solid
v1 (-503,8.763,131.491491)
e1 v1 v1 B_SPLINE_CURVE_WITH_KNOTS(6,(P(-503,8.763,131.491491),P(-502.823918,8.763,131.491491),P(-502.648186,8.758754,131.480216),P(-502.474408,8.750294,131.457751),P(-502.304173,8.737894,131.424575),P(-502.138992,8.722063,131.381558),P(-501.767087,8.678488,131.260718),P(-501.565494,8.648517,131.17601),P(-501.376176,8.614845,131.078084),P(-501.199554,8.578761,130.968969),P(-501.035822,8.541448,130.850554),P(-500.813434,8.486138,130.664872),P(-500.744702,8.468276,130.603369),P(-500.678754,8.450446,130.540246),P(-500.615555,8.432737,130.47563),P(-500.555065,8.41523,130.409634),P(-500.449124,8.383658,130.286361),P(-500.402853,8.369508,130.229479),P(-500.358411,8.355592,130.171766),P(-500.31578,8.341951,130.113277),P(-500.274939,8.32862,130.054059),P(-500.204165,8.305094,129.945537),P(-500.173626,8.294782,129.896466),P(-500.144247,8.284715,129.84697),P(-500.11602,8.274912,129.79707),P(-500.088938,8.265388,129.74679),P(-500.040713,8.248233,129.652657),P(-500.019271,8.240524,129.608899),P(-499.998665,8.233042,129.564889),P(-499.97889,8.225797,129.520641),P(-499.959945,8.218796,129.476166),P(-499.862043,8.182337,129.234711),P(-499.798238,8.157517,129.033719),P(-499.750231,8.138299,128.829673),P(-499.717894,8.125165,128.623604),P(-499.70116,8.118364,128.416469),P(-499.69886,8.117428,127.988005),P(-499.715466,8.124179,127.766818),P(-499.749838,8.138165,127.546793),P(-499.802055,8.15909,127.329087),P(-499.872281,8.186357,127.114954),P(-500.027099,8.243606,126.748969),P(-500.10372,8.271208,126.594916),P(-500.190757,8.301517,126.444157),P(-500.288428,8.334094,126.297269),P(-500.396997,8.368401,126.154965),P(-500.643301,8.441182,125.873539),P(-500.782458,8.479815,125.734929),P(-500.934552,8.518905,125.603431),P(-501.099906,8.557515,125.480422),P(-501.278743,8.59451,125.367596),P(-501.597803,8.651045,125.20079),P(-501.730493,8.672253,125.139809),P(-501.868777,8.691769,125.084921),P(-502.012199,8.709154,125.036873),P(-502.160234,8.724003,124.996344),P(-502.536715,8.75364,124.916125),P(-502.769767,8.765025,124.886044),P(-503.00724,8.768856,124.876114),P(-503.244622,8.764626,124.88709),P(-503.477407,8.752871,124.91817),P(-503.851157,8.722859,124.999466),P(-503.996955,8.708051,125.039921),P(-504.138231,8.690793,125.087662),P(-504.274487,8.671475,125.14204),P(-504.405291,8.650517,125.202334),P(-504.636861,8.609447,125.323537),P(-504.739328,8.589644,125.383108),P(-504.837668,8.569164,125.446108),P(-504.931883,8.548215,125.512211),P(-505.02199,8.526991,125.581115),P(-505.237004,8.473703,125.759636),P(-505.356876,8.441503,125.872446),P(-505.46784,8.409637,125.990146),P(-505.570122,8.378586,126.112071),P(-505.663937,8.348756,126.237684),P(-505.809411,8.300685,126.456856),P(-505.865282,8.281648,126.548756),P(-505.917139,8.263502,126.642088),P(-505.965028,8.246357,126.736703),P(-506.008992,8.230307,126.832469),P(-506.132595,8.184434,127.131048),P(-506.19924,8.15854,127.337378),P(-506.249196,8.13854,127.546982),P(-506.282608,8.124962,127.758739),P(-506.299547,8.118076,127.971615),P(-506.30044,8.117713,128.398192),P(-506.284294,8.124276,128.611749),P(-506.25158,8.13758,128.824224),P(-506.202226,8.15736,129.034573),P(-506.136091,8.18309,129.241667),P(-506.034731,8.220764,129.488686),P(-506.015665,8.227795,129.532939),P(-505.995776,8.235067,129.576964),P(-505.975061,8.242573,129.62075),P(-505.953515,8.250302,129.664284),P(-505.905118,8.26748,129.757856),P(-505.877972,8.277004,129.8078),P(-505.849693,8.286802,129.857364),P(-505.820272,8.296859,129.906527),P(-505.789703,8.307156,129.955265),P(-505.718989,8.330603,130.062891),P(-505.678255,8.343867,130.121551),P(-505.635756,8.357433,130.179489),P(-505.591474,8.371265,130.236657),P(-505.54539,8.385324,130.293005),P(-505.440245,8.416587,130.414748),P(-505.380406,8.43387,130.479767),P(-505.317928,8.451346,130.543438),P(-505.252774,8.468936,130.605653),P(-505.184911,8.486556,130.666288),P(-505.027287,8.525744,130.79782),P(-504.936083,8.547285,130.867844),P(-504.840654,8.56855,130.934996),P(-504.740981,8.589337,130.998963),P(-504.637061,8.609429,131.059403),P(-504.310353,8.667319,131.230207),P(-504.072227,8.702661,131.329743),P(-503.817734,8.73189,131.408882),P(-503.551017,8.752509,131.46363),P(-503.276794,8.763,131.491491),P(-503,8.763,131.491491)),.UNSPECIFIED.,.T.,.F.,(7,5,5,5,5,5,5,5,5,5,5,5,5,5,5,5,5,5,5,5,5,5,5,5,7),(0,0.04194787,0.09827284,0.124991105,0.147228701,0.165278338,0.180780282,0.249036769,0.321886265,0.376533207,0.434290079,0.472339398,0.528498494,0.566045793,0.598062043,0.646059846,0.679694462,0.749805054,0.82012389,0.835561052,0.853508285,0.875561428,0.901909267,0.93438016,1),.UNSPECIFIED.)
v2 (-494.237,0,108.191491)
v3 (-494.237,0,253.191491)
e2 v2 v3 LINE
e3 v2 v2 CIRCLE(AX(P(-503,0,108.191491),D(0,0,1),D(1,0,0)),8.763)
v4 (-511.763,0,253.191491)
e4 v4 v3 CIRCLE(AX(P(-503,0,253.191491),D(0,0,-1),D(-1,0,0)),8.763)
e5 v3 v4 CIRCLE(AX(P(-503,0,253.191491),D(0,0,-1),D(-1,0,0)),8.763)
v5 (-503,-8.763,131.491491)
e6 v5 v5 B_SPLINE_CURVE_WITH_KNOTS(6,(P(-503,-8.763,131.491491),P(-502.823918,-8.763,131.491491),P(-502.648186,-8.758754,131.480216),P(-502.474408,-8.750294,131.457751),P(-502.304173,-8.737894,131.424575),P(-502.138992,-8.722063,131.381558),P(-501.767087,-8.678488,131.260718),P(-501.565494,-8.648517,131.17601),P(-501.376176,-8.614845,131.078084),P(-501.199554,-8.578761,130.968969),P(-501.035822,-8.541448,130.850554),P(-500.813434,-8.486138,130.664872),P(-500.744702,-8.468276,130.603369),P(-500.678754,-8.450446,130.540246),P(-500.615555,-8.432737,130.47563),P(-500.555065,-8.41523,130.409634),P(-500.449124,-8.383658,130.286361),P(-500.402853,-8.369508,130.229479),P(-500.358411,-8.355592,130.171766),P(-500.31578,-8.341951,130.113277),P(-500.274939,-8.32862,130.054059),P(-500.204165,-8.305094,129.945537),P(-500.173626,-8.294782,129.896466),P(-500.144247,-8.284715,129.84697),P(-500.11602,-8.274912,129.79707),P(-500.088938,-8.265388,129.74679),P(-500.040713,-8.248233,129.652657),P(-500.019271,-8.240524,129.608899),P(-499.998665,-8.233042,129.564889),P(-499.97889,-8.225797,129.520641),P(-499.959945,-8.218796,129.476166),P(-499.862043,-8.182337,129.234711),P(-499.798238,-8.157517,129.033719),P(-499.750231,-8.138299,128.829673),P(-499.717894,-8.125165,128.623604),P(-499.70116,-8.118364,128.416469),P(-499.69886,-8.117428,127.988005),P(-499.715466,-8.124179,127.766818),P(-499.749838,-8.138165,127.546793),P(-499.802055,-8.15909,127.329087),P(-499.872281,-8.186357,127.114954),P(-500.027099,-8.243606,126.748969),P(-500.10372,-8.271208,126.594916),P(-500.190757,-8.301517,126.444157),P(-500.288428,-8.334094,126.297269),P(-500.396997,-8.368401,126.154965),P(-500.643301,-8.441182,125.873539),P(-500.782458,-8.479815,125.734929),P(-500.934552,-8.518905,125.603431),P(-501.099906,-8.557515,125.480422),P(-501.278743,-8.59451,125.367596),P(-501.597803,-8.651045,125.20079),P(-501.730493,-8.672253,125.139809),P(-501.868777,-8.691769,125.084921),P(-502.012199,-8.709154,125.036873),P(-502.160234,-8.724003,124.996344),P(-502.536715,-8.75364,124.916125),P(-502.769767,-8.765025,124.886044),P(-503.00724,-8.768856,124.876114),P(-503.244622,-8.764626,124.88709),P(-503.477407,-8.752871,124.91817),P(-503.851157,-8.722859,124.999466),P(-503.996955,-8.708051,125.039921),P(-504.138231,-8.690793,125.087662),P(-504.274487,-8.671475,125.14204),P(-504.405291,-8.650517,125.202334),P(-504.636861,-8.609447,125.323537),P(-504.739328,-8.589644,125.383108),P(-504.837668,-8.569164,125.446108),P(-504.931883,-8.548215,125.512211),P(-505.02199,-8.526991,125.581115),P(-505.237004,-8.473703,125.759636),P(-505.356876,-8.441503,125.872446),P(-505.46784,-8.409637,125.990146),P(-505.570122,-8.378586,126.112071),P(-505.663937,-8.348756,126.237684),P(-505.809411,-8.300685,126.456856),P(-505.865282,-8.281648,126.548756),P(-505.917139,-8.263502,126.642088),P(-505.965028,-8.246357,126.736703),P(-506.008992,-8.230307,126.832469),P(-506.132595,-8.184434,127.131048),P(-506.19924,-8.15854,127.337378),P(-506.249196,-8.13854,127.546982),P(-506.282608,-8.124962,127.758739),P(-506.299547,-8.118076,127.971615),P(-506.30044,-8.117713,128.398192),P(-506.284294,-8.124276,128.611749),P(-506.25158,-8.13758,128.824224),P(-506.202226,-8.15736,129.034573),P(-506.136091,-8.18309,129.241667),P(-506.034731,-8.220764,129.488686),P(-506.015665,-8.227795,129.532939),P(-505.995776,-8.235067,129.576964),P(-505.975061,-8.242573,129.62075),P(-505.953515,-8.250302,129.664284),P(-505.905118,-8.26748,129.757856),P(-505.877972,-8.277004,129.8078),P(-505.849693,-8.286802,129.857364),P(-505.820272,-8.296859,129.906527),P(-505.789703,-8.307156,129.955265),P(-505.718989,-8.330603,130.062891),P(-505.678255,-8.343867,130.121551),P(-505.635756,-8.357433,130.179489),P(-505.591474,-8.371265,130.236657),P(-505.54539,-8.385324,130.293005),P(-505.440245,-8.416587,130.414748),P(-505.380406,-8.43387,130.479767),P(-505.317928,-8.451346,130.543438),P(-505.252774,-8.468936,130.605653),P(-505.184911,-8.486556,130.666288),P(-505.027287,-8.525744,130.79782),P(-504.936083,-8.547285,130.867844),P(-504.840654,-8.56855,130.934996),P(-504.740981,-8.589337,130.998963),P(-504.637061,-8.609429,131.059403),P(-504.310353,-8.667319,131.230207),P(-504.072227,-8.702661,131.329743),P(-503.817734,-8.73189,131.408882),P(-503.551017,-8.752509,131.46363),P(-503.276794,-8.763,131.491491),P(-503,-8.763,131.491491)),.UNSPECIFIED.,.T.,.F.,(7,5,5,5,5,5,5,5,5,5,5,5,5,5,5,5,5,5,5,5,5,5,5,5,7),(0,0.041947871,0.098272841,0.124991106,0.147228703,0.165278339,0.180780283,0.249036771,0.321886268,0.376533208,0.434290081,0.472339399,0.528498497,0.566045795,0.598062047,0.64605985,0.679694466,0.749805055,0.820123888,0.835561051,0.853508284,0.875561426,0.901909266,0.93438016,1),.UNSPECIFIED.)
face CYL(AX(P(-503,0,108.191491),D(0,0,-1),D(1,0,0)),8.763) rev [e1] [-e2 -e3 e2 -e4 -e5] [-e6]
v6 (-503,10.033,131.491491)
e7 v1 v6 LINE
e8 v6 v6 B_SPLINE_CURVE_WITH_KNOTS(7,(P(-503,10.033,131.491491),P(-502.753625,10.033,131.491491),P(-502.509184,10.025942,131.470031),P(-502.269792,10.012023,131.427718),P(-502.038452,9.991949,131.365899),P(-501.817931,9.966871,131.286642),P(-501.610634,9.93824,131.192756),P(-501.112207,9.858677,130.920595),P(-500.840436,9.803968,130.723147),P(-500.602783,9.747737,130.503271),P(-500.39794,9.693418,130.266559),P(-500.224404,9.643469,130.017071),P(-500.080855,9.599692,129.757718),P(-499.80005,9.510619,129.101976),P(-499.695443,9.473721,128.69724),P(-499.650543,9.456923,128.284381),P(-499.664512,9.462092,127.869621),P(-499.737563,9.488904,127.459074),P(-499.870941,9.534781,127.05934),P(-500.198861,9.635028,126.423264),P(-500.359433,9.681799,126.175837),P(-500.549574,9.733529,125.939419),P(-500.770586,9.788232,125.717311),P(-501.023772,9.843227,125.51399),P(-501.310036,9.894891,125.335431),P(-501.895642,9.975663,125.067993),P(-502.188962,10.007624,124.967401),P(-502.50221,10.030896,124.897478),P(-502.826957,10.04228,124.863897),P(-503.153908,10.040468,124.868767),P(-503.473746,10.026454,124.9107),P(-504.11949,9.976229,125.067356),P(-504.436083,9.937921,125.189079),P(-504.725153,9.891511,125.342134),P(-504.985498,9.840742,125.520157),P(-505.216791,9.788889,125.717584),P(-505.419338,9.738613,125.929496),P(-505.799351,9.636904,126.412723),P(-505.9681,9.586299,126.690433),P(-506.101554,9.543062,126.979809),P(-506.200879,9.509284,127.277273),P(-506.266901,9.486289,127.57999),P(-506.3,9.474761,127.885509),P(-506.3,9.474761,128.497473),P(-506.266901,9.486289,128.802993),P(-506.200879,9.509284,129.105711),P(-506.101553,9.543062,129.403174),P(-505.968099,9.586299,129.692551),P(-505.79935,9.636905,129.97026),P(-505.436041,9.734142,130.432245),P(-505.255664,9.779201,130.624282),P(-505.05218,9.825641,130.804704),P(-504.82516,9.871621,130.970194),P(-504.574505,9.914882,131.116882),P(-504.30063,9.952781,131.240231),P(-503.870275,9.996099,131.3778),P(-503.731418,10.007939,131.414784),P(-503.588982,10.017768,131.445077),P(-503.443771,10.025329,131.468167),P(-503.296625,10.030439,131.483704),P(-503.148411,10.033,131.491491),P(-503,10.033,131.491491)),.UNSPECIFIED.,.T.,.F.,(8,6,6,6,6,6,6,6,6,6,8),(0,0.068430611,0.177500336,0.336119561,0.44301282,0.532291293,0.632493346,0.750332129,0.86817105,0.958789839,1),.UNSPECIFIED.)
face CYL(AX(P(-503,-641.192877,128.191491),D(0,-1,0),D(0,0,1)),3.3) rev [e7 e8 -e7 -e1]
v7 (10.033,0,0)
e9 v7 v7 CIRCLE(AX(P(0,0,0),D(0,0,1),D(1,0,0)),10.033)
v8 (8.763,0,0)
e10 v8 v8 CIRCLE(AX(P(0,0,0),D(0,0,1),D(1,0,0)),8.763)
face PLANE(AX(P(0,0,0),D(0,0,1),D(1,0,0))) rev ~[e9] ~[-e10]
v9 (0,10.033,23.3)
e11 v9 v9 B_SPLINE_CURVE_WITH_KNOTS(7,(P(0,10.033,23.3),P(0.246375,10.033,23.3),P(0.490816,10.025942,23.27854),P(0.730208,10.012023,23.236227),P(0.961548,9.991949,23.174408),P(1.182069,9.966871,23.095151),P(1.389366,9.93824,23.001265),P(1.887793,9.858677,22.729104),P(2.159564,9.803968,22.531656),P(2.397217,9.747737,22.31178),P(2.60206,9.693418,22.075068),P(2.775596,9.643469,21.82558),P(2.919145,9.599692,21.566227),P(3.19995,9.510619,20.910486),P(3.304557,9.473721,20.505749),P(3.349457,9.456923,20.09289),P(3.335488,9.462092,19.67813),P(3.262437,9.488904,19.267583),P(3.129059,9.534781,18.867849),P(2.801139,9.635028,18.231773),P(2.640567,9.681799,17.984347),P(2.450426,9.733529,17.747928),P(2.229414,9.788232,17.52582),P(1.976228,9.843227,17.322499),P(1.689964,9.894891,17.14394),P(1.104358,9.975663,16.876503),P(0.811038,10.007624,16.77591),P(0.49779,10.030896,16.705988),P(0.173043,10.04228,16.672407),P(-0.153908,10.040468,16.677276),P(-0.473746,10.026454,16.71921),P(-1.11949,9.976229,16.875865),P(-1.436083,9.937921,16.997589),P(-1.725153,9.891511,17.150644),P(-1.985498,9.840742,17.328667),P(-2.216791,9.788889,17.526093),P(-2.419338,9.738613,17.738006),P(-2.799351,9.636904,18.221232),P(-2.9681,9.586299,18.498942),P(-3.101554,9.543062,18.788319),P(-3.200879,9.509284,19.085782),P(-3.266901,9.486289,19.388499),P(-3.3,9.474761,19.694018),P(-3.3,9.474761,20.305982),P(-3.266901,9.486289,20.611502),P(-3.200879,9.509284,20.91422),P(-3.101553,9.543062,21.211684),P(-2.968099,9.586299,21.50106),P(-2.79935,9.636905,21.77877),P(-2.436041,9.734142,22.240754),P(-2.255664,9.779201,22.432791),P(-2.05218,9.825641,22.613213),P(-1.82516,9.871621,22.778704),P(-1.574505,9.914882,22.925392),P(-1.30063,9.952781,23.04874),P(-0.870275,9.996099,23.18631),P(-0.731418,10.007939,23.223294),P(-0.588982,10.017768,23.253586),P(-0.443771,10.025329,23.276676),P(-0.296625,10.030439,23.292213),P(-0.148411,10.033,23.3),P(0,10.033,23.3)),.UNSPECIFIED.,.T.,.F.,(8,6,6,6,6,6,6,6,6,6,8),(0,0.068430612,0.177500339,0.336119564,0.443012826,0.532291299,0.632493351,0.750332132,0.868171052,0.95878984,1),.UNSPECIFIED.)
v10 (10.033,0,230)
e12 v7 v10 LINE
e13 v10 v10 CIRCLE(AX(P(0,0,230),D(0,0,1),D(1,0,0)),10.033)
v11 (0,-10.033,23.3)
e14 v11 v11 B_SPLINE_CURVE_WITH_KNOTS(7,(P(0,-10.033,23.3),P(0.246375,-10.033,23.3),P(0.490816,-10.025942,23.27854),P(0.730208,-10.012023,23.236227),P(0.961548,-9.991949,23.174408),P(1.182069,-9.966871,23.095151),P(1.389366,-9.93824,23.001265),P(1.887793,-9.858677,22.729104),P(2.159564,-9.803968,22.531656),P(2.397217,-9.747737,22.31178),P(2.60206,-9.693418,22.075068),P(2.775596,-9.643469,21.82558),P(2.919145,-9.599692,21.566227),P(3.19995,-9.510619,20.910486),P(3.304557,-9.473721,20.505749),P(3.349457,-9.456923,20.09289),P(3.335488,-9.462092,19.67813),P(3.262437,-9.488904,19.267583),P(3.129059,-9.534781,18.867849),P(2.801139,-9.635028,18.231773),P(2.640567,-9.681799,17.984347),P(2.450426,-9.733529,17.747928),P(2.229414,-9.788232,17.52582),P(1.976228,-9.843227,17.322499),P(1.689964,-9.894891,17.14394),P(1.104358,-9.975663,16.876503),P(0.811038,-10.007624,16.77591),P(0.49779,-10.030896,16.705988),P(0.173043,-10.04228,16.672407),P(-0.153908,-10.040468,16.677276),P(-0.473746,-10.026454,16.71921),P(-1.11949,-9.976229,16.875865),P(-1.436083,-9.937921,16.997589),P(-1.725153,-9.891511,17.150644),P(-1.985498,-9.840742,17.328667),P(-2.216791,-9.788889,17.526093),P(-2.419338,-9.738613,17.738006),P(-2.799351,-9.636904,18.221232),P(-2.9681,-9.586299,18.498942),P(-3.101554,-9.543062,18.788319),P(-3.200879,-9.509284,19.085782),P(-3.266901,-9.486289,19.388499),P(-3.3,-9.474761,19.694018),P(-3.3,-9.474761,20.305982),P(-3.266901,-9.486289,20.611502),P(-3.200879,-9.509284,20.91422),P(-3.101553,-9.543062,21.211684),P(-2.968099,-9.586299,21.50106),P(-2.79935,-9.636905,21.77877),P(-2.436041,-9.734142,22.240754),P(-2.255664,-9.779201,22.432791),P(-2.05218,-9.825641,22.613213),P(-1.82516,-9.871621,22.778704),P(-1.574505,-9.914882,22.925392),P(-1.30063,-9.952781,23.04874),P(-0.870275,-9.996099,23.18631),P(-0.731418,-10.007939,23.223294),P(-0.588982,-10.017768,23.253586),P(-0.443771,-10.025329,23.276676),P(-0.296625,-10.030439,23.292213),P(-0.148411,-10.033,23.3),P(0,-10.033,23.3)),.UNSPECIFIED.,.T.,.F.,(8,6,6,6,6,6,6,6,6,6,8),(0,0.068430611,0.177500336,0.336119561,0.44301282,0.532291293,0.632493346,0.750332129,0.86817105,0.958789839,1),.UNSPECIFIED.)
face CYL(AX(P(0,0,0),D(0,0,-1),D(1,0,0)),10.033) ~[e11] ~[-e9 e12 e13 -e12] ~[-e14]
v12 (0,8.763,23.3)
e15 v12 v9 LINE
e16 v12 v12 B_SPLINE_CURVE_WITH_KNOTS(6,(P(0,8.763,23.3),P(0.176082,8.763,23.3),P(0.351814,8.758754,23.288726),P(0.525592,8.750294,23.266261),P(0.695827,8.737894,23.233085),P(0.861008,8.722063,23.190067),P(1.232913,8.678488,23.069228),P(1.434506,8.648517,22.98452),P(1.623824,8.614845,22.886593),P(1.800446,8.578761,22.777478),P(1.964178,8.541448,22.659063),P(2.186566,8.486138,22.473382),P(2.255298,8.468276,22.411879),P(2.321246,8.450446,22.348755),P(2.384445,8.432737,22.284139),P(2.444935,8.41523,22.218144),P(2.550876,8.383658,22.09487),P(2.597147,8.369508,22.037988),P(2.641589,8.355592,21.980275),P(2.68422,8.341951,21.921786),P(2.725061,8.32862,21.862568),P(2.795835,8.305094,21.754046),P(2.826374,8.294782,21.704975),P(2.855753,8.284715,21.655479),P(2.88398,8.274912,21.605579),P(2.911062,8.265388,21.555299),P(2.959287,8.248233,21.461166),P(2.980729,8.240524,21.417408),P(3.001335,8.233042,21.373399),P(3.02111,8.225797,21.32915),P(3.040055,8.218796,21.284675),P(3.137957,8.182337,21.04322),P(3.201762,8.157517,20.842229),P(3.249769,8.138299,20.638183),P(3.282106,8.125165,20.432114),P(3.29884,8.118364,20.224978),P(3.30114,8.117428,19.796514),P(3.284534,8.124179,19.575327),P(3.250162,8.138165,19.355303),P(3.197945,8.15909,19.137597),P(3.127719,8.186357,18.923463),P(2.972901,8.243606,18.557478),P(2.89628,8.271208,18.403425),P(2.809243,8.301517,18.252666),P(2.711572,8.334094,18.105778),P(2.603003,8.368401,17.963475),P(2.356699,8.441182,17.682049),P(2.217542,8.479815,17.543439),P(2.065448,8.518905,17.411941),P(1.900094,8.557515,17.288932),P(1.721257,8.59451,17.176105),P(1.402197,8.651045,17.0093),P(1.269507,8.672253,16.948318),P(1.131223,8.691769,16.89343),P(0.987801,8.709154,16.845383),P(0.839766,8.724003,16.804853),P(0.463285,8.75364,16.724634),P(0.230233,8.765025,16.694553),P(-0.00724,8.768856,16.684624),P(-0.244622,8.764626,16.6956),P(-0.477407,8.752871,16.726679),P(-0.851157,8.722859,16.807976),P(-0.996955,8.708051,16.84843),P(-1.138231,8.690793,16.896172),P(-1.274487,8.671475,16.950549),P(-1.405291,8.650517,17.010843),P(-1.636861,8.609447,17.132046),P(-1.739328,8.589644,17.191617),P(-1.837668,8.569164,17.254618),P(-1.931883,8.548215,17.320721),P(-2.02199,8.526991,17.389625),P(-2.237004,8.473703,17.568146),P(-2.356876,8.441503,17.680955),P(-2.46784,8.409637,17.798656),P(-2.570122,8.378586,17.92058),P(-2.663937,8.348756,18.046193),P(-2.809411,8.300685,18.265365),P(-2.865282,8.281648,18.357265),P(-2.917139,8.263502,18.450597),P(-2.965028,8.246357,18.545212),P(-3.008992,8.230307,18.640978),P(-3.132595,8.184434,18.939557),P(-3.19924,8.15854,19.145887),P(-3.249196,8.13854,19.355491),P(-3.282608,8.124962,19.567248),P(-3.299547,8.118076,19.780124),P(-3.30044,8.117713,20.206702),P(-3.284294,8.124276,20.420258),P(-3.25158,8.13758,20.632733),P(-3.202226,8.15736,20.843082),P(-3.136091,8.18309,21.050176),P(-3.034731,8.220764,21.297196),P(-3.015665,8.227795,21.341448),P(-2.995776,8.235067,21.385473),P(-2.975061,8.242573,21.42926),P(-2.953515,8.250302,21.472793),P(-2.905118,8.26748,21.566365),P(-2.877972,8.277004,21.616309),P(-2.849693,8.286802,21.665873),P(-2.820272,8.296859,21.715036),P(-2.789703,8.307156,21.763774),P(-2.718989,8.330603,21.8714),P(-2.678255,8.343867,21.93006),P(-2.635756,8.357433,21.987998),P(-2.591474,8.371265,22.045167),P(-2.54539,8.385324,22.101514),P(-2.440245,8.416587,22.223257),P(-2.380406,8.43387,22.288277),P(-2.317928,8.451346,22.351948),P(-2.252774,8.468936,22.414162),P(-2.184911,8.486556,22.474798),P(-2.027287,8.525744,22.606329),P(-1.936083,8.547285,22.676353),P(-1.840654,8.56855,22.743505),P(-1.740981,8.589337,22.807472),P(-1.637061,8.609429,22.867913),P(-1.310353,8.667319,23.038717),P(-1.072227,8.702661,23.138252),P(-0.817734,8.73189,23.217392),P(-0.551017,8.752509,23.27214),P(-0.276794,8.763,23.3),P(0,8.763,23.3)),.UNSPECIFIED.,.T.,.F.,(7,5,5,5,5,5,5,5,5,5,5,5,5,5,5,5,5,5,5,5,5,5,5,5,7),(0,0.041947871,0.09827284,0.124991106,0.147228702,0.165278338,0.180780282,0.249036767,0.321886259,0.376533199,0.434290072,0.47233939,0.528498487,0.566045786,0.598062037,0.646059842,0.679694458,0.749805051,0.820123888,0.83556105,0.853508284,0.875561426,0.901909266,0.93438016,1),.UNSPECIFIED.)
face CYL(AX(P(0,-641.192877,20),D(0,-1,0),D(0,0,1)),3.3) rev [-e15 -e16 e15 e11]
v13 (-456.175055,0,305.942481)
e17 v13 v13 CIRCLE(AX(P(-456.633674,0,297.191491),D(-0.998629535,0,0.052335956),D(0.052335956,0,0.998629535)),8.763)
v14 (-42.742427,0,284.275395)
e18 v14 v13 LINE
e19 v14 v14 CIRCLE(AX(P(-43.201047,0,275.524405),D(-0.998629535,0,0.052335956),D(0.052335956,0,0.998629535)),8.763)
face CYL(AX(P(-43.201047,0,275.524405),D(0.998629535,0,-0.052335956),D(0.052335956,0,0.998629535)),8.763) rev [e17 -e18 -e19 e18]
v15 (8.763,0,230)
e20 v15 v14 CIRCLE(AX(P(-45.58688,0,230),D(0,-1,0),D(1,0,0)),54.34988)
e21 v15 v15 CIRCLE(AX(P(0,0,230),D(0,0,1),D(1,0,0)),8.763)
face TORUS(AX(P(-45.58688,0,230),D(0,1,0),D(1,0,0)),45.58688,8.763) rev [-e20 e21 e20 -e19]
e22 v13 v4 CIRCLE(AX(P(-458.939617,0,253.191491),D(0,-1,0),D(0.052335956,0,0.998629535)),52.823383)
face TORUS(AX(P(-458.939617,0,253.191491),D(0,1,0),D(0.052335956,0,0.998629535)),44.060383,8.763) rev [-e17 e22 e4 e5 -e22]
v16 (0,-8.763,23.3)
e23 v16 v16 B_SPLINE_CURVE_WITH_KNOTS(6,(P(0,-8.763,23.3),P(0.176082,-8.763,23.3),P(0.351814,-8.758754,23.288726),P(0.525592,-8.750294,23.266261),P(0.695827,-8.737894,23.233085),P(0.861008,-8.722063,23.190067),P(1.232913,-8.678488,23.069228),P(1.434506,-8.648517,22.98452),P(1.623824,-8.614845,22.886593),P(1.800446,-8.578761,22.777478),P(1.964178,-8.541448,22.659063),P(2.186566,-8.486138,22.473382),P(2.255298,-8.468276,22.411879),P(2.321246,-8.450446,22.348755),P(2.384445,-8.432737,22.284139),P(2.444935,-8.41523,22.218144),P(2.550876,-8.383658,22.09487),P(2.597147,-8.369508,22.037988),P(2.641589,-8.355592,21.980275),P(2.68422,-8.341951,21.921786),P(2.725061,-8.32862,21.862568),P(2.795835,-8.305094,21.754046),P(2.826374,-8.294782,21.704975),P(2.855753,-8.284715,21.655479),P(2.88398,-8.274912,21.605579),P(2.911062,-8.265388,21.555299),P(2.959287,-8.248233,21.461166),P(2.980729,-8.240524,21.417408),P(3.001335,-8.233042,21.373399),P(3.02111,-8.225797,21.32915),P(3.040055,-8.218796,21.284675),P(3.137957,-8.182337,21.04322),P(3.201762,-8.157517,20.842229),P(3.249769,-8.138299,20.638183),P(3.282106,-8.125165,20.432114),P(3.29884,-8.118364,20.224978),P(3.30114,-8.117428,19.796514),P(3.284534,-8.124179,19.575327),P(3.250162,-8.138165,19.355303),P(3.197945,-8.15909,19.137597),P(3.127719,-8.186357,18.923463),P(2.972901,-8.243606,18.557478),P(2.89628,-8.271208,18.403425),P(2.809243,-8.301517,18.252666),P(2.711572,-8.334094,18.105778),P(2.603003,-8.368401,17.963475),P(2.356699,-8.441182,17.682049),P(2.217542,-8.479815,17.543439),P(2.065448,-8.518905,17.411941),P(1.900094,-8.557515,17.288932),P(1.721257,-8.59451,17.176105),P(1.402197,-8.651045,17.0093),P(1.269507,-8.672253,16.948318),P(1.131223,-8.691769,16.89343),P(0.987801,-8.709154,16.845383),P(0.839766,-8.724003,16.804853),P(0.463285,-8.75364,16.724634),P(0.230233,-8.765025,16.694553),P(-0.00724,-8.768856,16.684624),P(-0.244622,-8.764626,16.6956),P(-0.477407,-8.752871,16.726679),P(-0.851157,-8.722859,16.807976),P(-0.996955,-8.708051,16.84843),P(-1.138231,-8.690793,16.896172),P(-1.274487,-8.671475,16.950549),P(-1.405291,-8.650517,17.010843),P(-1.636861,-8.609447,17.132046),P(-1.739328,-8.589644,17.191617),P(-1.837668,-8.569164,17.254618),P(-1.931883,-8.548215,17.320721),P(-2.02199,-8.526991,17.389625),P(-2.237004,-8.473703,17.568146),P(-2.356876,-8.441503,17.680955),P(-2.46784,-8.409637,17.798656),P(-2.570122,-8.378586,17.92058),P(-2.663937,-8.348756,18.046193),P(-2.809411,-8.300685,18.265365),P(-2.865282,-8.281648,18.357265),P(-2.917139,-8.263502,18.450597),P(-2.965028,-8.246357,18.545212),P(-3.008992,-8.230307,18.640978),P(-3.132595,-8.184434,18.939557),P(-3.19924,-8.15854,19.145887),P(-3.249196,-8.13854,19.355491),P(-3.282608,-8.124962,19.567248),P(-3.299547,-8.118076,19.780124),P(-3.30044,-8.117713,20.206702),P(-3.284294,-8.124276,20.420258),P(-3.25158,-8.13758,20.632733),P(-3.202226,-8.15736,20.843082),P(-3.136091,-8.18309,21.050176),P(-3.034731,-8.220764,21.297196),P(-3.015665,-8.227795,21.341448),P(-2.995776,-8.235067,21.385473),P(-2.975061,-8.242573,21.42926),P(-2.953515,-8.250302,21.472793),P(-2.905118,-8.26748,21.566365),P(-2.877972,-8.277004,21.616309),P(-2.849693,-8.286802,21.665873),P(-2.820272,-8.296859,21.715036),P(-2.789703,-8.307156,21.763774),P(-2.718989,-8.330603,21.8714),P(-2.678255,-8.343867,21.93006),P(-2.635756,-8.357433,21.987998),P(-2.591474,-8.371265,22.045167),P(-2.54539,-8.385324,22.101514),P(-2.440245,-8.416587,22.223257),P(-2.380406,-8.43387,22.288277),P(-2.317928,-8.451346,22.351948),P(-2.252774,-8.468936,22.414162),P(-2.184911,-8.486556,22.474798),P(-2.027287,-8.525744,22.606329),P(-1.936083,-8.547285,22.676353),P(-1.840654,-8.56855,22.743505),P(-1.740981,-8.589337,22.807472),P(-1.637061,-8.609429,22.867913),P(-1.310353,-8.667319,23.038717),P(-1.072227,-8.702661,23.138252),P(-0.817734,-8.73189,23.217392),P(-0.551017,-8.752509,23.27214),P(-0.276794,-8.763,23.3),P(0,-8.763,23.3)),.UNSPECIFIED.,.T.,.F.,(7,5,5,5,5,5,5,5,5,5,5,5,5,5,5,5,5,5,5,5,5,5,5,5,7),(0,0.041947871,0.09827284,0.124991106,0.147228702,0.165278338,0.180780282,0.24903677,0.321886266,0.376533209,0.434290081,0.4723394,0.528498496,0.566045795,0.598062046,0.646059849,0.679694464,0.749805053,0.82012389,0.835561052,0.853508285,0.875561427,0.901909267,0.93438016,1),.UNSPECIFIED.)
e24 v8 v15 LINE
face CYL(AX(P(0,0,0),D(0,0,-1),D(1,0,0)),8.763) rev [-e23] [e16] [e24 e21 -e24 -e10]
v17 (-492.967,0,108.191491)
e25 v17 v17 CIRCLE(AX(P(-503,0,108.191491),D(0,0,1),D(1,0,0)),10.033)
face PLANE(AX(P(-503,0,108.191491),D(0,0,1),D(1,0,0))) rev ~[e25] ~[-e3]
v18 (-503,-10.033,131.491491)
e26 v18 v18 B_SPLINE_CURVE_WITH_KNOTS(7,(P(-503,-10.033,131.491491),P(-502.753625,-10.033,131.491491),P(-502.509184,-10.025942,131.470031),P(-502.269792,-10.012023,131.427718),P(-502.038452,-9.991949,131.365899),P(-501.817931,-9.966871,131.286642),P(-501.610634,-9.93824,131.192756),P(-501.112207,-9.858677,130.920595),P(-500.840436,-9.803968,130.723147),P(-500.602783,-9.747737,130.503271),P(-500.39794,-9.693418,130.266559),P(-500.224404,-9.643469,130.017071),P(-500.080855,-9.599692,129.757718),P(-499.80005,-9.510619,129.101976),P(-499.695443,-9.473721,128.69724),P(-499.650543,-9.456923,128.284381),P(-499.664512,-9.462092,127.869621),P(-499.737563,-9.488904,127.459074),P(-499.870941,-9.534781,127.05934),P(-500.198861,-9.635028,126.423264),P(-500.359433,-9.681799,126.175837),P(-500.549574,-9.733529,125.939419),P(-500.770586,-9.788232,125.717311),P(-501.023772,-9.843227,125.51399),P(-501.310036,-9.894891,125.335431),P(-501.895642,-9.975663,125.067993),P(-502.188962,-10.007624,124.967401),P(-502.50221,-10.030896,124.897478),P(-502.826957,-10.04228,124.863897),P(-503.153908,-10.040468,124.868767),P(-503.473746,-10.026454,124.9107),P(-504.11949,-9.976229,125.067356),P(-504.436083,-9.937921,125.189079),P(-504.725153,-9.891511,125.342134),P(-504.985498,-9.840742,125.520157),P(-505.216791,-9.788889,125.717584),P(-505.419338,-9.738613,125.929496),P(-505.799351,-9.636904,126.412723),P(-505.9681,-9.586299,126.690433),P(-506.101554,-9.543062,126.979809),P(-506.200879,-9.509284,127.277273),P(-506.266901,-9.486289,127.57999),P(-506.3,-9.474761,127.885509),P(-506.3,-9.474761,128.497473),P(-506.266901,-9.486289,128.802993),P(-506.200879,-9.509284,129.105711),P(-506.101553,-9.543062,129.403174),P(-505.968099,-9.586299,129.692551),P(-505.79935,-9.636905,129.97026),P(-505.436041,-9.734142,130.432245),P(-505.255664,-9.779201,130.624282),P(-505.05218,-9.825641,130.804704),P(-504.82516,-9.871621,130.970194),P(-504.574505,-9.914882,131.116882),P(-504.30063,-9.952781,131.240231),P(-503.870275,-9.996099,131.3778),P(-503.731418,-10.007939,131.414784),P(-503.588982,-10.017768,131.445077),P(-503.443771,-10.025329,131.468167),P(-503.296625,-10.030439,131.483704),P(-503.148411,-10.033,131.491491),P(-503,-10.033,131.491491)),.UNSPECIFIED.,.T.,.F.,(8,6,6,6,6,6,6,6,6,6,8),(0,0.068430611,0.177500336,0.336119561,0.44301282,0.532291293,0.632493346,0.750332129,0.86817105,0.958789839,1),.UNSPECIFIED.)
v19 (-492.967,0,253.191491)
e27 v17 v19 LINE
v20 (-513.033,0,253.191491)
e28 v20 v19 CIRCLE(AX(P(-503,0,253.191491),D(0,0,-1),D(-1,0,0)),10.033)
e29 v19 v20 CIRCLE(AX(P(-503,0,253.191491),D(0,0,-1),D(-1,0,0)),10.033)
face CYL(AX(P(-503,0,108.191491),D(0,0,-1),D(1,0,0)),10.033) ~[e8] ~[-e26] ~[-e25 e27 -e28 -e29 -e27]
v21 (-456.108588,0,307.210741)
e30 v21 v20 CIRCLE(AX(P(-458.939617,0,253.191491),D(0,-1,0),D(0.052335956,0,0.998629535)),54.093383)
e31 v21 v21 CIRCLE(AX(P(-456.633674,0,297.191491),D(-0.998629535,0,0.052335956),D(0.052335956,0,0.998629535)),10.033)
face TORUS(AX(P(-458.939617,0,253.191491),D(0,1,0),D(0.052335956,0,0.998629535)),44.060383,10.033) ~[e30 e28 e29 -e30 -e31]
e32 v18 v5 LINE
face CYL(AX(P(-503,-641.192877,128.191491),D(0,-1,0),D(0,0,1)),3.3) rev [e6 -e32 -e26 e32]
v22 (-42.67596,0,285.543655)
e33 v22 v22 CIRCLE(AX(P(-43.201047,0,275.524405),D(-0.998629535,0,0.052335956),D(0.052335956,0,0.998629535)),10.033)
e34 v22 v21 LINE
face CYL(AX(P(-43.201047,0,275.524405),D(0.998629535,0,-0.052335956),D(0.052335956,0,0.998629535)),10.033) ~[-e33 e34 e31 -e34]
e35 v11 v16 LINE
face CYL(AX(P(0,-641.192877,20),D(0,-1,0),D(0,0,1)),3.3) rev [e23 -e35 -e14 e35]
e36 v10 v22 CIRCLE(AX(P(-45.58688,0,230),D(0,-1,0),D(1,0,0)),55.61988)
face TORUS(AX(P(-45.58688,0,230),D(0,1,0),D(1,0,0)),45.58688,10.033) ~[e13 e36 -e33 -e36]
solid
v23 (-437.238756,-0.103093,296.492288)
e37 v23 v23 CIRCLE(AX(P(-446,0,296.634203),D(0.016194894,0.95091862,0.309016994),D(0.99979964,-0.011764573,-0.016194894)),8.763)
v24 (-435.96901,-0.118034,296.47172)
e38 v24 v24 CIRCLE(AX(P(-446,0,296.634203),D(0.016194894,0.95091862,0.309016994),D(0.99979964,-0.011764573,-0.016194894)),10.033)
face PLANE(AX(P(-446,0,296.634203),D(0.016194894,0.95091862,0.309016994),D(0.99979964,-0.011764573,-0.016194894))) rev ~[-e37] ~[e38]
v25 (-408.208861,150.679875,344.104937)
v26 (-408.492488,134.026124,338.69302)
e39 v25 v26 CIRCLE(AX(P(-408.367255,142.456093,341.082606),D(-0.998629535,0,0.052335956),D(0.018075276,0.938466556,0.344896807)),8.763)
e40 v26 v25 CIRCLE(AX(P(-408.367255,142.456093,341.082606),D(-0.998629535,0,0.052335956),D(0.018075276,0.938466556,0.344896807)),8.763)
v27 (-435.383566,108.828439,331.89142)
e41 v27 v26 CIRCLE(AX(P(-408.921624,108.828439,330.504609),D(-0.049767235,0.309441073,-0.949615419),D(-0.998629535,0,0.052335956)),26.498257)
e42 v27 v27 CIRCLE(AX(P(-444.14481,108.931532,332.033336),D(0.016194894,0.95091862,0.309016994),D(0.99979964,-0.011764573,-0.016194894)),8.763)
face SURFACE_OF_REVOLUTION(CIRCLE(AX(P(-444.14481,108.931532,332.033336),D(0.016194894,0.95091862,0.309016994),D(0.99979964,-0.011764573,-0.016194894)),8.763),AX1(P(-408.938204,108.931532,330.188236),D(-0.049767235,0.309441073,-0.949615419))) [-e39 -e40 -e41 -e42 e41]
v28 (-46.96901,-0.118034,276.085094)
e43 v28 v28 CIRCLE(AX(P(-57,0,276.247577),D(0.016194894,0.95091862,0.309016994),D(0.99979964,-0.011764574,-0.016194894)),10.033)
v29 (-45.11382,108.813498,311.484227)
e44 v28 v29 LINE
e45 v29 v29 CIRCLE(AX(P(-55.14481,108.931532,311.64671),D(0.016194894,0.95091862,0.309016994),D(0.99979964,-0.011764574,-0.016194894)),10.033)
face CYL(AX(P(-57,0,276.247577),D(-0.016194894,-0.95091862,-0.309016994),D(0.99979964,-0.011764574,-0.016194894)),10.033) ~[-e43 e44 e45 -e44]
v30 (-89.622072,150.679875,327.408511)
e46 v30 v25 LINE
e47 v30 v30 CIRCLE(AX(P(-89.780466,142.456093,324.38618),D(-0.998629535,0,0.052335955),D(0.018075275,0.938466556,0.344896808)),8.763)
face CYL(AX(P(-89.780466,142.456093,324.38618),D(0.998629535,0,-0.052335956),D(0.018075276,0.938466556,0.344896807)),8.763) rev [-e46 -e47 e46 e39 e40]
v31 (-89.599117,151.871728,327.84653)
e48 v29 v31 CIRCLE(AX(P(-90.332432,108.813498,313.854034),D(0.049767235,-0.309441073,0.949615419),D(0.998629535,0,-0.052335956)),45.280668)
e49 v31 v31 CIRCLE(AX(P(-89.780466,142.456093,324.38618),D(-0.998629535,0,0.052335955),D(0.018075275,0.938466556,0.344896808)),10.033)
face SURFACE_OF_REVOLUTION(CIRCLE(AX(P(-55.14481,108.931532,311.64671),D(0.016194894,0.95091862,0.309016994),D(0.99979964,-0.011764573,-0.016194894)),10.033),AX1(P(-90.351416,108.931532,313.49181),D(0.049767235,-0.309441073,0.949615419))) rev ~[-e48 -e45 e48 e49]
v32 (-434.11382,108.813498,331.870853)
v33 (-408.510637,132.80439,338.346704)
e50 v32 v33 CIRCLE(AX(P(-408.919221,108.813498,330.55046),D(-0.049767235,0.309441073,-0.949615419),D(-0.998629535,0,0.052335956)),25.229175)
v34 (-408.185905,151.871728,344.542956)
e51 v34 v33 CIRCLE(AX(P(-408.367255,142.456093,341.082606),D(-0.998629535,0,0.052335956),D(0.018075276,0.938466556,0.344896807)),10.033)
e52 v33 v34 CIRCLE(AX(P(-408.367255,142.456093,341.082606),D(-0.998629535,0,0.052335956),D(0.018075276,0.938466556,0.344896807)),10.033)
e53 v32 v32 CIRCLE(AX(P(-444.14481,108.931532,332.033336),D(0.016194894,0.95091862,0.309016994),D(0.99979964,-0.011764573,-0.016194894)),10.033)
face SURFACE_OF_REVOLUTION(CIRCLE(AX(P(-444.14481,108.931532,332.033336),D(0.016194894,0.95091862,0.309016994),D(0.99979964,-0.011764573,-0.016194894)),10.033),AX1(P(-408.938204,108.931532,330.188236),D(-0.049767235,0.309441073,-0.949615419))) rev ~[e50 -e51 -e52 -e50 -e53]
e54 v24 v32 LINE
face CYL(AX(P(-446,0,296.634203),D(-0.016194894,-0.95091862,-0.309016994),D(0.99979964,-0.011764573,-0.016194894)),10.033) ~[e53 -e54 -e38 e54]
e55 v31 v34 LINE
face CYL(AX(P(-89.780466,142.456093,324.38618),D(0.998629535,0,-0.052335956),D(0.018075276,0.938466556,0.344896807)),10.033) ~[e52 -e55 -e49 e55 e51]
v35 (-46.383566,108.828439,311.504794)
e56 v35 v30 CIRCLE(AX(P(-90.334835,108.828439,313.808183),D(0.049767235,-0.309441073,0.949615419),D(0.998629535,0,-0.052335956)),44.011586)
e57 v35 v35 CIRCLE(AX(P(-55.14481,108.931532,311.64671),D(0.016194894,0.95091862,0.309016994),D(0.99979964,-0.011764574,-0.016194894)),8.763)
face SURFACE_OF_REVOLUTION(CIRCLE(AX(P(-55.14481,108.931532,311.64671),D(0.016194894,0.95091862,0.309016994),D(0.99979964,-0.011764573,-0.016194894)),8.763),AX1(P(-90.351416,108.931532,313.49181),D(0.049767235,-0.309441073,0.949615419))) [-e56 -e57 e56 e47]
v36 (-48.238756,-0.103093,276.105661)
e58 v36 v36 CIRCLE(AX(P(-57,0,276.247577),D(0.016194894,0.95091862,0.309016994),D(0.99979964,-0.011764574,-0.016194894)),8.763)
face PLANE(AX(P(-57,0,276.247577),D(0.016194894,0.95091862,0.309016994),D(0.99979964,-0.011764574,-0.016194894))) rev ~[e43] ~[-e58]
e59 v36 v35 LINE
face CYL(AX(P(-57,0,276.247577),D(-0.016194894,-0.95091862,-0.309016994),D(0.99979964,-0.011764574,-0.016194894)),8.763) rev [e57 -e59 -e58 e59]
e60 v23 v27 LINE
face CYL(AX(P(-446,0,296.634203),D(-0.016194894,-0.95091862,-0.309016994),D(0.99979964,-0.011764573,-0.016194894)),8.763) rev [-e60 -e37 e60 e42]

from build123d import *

# Parameters (mm, degrees)
SKETCH21_R                           = 10.033
SKETCH21_R_2                         = 8.763
CHASSIS_BUMPERFRAMEPROFILE_1_DEPTH   = 230
SKETCH21_ON_SEGMENT_2_R              = 10.033
SKETCH21_ON_SEGMENT_2_R_2            = 8.763
CHASSIS_BUMPERFRAMEPROFILE_1_2_ANGLE = 87
SKETCH21_ON_SEGMENT_3_R              = 10.033
SKETCH21_ON_SEGMENT_3_R_2            = 8.763
CHASSIS_BUMPERFRAMEPROFILE_1_3_DEPTH = 414
SKETCH21_ON_SEGMENT_4_R              = 10.033
SKETCH21_ON_SEGMENT_4_R_2            = 8.763
CHASSIS_BUMPERFRAMEPROFILE_1_4_ANGLE = 93
SKETCH21_ON_SEGMENT_5_R              = 10.033
SKETCH21_ON_SEGMENT_5_R_2            = 8.763
CHASSIS_BUMPERFRAMEPROFILE_1_5_DEPTH = 145
SKETCH2_R                            = 10.033
SKETCH2_R_2                          = 8.763
CHASSIS_BUMPERFRAMEPROFILE_3_DEPTH   = 114.554
SKETCH2_ON_SEGMENT_2_R               = 10.033
SKETCH2_ON_SEGMENT_2_R_2             = 8.763
CHASSIS_BUMPERFRAMEPROFILE_3_2_ANGLE = 90
SKETCH2_ON_SEGMENT_3_R               = 10.033
SKETCH2_ON_SEGMENT_3_R_2             = 8.763
CHASSIS_BUMPERFRAMEPROFILE_3_3_DEPTH = 319.024
SKETCH2_ON_SEGMENT_4_R               = 10.033
SKETCH2_ON_SEGMENT_4_R_2             = 8.763
CHASSIS_BUMPERFRAMEPROFILE_3_4_ANGLE = 90
SKETCH2_ON_SEGMENT_5_R               = 10.033
SKETCH2_ON_SEGMENT_5_R_2             = 8.763
CHASSIS_BUMPERFRAMEPROFILE_3_5_DEPTH = 114.554
CUT_EXTRUDE1_DEPTH                   = 641.192877482
CUT_EXTRUDE1_DEPTH_BACK              = 641.192877482
SKETCH22_R                           = 3.3


with BuildPart() as part:
    # Sketch21 → Chassis BUMPERFRAMEPROFILE(1) (new body)
    with BuildSketch(Plane.XY):
        Circle(SKETCH21_R)
        Circle(SKETCH21_R_2, mode=Mode.SUBTRACT)
    extrude(amount=CHASSIS_BUMPERFRAMEPROFILE_1_DEPTH)


with BuildPart() as body_2:
    # Sketch21 on segment 2 (carried to the start of arc 2) → Chassis BUMPERFRAMEPROFILE_1 2 (revolve)
    with BuildSketch(Plane.XY.offset(230)):
        Circle(SKETCH21_ON_SEGMENT_2_R)
        Circle(SKETCH21_ON_SEGMENT_2_R_2, mode=Mode.SUBTRACT)
    revolve(axis=Axis((-45.586880059, 0, 230), (0, -1, 0)), revolution_arc=CHASSIS_BUMPERFRAMEPROFILE_1_2_ANGLE)


with BuildPart() as body_3:
    # Sketch21 on segment 3 (carried to segment 3) → Chassis BUMPERFRAMEPROFILE_1 3 (new body)
    with BuildSketch(Plane(origin=(-43.201047099, 0, 275.524404825), x_dir=(0.052335956, 0, 0.998629535), z_dir=(-0.998629535, 0, 0.052335956))):
        Circle(SKETCH21_ON_SEGMENT_3_R)
        Circle(SKETCH21_ON_SEGMENT_3_R_2, mode=Mode.SUBTRACT)
    extrude(amount=CHASSIS_BUMPERFRAMEPROFILE_1_3_DEPTH)


with BuildPart() as body_4:
    # Sketch21 on segment 4 (carried to the start of arc 4) → Chassis BUMPERFRAMEPROFILE_1 4 (revolve)
    with BuildSketch(Plane(origin=(-456.633674488, 0, 297.191490709), x_dir=(0.052335956, 0, 0.998629535), z_dir=(-0.998629535, 0, 0.052335956))):
        Circle(SKETCH21_ON_SEGMENT_4_R)
        Circle(SKETCH21_ON_SEGMENT_4_R_2, mode=Mode.SUBTRACT)
    revolve(axis=Axis((-458.939616776, 0, 253.191490709), (0, -1, 0)), revolution_arc=CHASSIS_BUMPERFRAMEPROFILE_1_4_ANGLE)


with BuildPart() as body_5:
    # Sketch21 on segment 5 (carried to segment 5) → Chassis BUMPERFRAMEPROFILE_1 5 (new body)
    with BuildSketch(Plane(origin=(-503, 0, 108.191490709), x_dir=(1, 0, 0), z_dir=(0, 0, 1))):
        Circle(SKETCH21_ON_SEGMENT_5_R)
        Circle(SKETCH21_ON_SEGMENT_5_R_2, mode=Mode.SUBTRACT)
    extrude(amount=CHASSIS_BUMPERFRAMEPROFILE_1_5_DEPTH)


with BuildPart() as part_1:
    add(part.part)

    # Chassis BUMPERFRAMEPROFILE(1) as one body: union body 2, body 3, body 4, body 5
    add(body_2.part)
    add(body_3.part)
    add(body_4.part)
    add(body_5.part)

    # Sketch22 → Cut-Extrude1 (cut, two sides: drawn at the far end of the back side and taken through both)
    with BuildSketch(Plane(origin=(0, 0, 0), x_dir=(1, 0, 0), z_dir=(0, 1, 0)).offset(-CUT_EXTRUDE1_DEPTH_BACK)):
        with Locations(Location((-503, -128.191490709, 0), (0, 0, 270))):
            Circle(SKETCH22_R)
        with Locations(Location((0, -20, 0), (0, 0, 270))):
            Circle(SKETCH22_R)
    extrude(amount=CUT_EXTRUDE1_DEPTH + CUT_EXTRUDE1_DEPTH_BACK, mode=Mode.SUBTRACT)


with BuildPart() as body_2_2:
    # Sketch2 → Chassis BUMPERFRAMEPROFILE(3) (new body)
    with BuildSketch(Plane(origin=(-57, 0, 276.247577302), x_dir=(0.9997996400299483, -0.011764573523751414, -0.016194894435910545), z_dir=(0.01619489443591055, 0.9509186203780452, 0.30901699437494556))):
        Circle(SKETCH2_R)
        Circle(SKETCH2_R_2, mode=Mode.SUBTRACT)
    extrude(amount=CHASSIS_BUMPERFRAMEPROFILE_3_DEPTH)


with BuildPart() as body_3_2:
    # Sketch2 on segment 2 (carried to the start of arc 2) → Chassis BUMPERFRAMEPROFILE_3 2 (revolve)
    with BuildSketch(Plane(origin=(-55.144810063, 108.931531639, 311.646710076), x_dir=(0.99979964, -0.011764574, -0.016194894), z_dir=(0.016194894, 0.95091862, 0.309016994))):
        Circle(SKETCH2_ON_SEGMENT_2_R)
        Circle(SKETCH2_ON_SEGMENT_2_R_2, mode=Mode.SUBTRACT)
    revolve(axis=Axis((-90.351415715, 108.931531639, 313.491810094), (0.049767235, -0.309441073, 0.949615419)), revolution_arc=CHASSIS_BUMPERFRAMEPROFILE_3_2_ANGLE)


with BuildPart() as body_4_2:
    # Sketch2 on segment 3 (carried to segment 3) → Chassis BUMPERFRAMEPROFILE_3 3 (new body)
    with BuildSketch(Plane(origin=(-89.780465986, 142.45609276, 324.38617991), x_dir=(0.018075276, 0.938466556, 0.344896807), z_dir=(-0.998629535, 0, 0.052335956))):
        Circle(SKETCH2_ON_SEGMENT_3_R)
        Circle(SKETCH2_ON_SEGMENT_3_R_2, mode=Mode.SUBTRACT)
    extrude(amount=CHASSIS_BUMPERFRAMEPROFILE_3_3_DEPTH)


with BuildPart() as body_5_2:
    # Sketch2 on segment 4 (carried to the start of arc 4) → Chassis BUMPERFRAMEPROFILE_3 4 (revolve)
    with BuildSketch(Plane(origin=(-444.144810063, 108.931531639, 332.033336217), x_dir=(0.99979964, -0.011764574, -0.016194894), z_dir=(0.016194894, 0.95091862, 0.309016994))):
        Circle(SKETCH2_ON_SEGMENT_4_R)
        Circle(SKETCH2_ON_SEGMENT_4_R_2, mode=Mode.SUBTRACT)
    revolve(axis=Axis((-408.938204411, 108.931531639, 330.188236199), (-0.049767235, 0.309441073, -0.949615419)), revolution_arc=CHASSIS_BUMPERFRAMEPROFILE_3_4_ANGLE)


with BuildPart() as body_6:
    # Sketch2 on segment 5 (carried to segment 5) → Chassis BUMPERFRAMEPROFILE_3 5 (new body)
    with BuildSketch(Plane(origin=(-446, 0, 296.634203444), x_dir=(0.99979964, -0.011764574, -0.016194894), z_dir=(0.016194894, 0.95091862, 0.309016994))):
        Circle(SKETCH2_ON_SEGMENT_5_R)
        Circle(SKETCH2_ON_SEGMENT_5_R_2, mode=Mode.SUBTRACT)
    extrude(amount=CHASSIS_BUMPERFRAMEPROFILE_3_5_DEPTH)


with BuildPart() as body_2_2_1:
    add(body_2_2.part)

    # Chassis BUMPERFRAMEPROFILE(3) as one body: union body 3 2, body 4 2, body 5 2, body 6
    add(body_3_2.part)
    add(body_4_2.part)
    add(body_5_2.part)
    add(body_6.part)


solid = Compound([part_1.part, body_2_2_1.part])
